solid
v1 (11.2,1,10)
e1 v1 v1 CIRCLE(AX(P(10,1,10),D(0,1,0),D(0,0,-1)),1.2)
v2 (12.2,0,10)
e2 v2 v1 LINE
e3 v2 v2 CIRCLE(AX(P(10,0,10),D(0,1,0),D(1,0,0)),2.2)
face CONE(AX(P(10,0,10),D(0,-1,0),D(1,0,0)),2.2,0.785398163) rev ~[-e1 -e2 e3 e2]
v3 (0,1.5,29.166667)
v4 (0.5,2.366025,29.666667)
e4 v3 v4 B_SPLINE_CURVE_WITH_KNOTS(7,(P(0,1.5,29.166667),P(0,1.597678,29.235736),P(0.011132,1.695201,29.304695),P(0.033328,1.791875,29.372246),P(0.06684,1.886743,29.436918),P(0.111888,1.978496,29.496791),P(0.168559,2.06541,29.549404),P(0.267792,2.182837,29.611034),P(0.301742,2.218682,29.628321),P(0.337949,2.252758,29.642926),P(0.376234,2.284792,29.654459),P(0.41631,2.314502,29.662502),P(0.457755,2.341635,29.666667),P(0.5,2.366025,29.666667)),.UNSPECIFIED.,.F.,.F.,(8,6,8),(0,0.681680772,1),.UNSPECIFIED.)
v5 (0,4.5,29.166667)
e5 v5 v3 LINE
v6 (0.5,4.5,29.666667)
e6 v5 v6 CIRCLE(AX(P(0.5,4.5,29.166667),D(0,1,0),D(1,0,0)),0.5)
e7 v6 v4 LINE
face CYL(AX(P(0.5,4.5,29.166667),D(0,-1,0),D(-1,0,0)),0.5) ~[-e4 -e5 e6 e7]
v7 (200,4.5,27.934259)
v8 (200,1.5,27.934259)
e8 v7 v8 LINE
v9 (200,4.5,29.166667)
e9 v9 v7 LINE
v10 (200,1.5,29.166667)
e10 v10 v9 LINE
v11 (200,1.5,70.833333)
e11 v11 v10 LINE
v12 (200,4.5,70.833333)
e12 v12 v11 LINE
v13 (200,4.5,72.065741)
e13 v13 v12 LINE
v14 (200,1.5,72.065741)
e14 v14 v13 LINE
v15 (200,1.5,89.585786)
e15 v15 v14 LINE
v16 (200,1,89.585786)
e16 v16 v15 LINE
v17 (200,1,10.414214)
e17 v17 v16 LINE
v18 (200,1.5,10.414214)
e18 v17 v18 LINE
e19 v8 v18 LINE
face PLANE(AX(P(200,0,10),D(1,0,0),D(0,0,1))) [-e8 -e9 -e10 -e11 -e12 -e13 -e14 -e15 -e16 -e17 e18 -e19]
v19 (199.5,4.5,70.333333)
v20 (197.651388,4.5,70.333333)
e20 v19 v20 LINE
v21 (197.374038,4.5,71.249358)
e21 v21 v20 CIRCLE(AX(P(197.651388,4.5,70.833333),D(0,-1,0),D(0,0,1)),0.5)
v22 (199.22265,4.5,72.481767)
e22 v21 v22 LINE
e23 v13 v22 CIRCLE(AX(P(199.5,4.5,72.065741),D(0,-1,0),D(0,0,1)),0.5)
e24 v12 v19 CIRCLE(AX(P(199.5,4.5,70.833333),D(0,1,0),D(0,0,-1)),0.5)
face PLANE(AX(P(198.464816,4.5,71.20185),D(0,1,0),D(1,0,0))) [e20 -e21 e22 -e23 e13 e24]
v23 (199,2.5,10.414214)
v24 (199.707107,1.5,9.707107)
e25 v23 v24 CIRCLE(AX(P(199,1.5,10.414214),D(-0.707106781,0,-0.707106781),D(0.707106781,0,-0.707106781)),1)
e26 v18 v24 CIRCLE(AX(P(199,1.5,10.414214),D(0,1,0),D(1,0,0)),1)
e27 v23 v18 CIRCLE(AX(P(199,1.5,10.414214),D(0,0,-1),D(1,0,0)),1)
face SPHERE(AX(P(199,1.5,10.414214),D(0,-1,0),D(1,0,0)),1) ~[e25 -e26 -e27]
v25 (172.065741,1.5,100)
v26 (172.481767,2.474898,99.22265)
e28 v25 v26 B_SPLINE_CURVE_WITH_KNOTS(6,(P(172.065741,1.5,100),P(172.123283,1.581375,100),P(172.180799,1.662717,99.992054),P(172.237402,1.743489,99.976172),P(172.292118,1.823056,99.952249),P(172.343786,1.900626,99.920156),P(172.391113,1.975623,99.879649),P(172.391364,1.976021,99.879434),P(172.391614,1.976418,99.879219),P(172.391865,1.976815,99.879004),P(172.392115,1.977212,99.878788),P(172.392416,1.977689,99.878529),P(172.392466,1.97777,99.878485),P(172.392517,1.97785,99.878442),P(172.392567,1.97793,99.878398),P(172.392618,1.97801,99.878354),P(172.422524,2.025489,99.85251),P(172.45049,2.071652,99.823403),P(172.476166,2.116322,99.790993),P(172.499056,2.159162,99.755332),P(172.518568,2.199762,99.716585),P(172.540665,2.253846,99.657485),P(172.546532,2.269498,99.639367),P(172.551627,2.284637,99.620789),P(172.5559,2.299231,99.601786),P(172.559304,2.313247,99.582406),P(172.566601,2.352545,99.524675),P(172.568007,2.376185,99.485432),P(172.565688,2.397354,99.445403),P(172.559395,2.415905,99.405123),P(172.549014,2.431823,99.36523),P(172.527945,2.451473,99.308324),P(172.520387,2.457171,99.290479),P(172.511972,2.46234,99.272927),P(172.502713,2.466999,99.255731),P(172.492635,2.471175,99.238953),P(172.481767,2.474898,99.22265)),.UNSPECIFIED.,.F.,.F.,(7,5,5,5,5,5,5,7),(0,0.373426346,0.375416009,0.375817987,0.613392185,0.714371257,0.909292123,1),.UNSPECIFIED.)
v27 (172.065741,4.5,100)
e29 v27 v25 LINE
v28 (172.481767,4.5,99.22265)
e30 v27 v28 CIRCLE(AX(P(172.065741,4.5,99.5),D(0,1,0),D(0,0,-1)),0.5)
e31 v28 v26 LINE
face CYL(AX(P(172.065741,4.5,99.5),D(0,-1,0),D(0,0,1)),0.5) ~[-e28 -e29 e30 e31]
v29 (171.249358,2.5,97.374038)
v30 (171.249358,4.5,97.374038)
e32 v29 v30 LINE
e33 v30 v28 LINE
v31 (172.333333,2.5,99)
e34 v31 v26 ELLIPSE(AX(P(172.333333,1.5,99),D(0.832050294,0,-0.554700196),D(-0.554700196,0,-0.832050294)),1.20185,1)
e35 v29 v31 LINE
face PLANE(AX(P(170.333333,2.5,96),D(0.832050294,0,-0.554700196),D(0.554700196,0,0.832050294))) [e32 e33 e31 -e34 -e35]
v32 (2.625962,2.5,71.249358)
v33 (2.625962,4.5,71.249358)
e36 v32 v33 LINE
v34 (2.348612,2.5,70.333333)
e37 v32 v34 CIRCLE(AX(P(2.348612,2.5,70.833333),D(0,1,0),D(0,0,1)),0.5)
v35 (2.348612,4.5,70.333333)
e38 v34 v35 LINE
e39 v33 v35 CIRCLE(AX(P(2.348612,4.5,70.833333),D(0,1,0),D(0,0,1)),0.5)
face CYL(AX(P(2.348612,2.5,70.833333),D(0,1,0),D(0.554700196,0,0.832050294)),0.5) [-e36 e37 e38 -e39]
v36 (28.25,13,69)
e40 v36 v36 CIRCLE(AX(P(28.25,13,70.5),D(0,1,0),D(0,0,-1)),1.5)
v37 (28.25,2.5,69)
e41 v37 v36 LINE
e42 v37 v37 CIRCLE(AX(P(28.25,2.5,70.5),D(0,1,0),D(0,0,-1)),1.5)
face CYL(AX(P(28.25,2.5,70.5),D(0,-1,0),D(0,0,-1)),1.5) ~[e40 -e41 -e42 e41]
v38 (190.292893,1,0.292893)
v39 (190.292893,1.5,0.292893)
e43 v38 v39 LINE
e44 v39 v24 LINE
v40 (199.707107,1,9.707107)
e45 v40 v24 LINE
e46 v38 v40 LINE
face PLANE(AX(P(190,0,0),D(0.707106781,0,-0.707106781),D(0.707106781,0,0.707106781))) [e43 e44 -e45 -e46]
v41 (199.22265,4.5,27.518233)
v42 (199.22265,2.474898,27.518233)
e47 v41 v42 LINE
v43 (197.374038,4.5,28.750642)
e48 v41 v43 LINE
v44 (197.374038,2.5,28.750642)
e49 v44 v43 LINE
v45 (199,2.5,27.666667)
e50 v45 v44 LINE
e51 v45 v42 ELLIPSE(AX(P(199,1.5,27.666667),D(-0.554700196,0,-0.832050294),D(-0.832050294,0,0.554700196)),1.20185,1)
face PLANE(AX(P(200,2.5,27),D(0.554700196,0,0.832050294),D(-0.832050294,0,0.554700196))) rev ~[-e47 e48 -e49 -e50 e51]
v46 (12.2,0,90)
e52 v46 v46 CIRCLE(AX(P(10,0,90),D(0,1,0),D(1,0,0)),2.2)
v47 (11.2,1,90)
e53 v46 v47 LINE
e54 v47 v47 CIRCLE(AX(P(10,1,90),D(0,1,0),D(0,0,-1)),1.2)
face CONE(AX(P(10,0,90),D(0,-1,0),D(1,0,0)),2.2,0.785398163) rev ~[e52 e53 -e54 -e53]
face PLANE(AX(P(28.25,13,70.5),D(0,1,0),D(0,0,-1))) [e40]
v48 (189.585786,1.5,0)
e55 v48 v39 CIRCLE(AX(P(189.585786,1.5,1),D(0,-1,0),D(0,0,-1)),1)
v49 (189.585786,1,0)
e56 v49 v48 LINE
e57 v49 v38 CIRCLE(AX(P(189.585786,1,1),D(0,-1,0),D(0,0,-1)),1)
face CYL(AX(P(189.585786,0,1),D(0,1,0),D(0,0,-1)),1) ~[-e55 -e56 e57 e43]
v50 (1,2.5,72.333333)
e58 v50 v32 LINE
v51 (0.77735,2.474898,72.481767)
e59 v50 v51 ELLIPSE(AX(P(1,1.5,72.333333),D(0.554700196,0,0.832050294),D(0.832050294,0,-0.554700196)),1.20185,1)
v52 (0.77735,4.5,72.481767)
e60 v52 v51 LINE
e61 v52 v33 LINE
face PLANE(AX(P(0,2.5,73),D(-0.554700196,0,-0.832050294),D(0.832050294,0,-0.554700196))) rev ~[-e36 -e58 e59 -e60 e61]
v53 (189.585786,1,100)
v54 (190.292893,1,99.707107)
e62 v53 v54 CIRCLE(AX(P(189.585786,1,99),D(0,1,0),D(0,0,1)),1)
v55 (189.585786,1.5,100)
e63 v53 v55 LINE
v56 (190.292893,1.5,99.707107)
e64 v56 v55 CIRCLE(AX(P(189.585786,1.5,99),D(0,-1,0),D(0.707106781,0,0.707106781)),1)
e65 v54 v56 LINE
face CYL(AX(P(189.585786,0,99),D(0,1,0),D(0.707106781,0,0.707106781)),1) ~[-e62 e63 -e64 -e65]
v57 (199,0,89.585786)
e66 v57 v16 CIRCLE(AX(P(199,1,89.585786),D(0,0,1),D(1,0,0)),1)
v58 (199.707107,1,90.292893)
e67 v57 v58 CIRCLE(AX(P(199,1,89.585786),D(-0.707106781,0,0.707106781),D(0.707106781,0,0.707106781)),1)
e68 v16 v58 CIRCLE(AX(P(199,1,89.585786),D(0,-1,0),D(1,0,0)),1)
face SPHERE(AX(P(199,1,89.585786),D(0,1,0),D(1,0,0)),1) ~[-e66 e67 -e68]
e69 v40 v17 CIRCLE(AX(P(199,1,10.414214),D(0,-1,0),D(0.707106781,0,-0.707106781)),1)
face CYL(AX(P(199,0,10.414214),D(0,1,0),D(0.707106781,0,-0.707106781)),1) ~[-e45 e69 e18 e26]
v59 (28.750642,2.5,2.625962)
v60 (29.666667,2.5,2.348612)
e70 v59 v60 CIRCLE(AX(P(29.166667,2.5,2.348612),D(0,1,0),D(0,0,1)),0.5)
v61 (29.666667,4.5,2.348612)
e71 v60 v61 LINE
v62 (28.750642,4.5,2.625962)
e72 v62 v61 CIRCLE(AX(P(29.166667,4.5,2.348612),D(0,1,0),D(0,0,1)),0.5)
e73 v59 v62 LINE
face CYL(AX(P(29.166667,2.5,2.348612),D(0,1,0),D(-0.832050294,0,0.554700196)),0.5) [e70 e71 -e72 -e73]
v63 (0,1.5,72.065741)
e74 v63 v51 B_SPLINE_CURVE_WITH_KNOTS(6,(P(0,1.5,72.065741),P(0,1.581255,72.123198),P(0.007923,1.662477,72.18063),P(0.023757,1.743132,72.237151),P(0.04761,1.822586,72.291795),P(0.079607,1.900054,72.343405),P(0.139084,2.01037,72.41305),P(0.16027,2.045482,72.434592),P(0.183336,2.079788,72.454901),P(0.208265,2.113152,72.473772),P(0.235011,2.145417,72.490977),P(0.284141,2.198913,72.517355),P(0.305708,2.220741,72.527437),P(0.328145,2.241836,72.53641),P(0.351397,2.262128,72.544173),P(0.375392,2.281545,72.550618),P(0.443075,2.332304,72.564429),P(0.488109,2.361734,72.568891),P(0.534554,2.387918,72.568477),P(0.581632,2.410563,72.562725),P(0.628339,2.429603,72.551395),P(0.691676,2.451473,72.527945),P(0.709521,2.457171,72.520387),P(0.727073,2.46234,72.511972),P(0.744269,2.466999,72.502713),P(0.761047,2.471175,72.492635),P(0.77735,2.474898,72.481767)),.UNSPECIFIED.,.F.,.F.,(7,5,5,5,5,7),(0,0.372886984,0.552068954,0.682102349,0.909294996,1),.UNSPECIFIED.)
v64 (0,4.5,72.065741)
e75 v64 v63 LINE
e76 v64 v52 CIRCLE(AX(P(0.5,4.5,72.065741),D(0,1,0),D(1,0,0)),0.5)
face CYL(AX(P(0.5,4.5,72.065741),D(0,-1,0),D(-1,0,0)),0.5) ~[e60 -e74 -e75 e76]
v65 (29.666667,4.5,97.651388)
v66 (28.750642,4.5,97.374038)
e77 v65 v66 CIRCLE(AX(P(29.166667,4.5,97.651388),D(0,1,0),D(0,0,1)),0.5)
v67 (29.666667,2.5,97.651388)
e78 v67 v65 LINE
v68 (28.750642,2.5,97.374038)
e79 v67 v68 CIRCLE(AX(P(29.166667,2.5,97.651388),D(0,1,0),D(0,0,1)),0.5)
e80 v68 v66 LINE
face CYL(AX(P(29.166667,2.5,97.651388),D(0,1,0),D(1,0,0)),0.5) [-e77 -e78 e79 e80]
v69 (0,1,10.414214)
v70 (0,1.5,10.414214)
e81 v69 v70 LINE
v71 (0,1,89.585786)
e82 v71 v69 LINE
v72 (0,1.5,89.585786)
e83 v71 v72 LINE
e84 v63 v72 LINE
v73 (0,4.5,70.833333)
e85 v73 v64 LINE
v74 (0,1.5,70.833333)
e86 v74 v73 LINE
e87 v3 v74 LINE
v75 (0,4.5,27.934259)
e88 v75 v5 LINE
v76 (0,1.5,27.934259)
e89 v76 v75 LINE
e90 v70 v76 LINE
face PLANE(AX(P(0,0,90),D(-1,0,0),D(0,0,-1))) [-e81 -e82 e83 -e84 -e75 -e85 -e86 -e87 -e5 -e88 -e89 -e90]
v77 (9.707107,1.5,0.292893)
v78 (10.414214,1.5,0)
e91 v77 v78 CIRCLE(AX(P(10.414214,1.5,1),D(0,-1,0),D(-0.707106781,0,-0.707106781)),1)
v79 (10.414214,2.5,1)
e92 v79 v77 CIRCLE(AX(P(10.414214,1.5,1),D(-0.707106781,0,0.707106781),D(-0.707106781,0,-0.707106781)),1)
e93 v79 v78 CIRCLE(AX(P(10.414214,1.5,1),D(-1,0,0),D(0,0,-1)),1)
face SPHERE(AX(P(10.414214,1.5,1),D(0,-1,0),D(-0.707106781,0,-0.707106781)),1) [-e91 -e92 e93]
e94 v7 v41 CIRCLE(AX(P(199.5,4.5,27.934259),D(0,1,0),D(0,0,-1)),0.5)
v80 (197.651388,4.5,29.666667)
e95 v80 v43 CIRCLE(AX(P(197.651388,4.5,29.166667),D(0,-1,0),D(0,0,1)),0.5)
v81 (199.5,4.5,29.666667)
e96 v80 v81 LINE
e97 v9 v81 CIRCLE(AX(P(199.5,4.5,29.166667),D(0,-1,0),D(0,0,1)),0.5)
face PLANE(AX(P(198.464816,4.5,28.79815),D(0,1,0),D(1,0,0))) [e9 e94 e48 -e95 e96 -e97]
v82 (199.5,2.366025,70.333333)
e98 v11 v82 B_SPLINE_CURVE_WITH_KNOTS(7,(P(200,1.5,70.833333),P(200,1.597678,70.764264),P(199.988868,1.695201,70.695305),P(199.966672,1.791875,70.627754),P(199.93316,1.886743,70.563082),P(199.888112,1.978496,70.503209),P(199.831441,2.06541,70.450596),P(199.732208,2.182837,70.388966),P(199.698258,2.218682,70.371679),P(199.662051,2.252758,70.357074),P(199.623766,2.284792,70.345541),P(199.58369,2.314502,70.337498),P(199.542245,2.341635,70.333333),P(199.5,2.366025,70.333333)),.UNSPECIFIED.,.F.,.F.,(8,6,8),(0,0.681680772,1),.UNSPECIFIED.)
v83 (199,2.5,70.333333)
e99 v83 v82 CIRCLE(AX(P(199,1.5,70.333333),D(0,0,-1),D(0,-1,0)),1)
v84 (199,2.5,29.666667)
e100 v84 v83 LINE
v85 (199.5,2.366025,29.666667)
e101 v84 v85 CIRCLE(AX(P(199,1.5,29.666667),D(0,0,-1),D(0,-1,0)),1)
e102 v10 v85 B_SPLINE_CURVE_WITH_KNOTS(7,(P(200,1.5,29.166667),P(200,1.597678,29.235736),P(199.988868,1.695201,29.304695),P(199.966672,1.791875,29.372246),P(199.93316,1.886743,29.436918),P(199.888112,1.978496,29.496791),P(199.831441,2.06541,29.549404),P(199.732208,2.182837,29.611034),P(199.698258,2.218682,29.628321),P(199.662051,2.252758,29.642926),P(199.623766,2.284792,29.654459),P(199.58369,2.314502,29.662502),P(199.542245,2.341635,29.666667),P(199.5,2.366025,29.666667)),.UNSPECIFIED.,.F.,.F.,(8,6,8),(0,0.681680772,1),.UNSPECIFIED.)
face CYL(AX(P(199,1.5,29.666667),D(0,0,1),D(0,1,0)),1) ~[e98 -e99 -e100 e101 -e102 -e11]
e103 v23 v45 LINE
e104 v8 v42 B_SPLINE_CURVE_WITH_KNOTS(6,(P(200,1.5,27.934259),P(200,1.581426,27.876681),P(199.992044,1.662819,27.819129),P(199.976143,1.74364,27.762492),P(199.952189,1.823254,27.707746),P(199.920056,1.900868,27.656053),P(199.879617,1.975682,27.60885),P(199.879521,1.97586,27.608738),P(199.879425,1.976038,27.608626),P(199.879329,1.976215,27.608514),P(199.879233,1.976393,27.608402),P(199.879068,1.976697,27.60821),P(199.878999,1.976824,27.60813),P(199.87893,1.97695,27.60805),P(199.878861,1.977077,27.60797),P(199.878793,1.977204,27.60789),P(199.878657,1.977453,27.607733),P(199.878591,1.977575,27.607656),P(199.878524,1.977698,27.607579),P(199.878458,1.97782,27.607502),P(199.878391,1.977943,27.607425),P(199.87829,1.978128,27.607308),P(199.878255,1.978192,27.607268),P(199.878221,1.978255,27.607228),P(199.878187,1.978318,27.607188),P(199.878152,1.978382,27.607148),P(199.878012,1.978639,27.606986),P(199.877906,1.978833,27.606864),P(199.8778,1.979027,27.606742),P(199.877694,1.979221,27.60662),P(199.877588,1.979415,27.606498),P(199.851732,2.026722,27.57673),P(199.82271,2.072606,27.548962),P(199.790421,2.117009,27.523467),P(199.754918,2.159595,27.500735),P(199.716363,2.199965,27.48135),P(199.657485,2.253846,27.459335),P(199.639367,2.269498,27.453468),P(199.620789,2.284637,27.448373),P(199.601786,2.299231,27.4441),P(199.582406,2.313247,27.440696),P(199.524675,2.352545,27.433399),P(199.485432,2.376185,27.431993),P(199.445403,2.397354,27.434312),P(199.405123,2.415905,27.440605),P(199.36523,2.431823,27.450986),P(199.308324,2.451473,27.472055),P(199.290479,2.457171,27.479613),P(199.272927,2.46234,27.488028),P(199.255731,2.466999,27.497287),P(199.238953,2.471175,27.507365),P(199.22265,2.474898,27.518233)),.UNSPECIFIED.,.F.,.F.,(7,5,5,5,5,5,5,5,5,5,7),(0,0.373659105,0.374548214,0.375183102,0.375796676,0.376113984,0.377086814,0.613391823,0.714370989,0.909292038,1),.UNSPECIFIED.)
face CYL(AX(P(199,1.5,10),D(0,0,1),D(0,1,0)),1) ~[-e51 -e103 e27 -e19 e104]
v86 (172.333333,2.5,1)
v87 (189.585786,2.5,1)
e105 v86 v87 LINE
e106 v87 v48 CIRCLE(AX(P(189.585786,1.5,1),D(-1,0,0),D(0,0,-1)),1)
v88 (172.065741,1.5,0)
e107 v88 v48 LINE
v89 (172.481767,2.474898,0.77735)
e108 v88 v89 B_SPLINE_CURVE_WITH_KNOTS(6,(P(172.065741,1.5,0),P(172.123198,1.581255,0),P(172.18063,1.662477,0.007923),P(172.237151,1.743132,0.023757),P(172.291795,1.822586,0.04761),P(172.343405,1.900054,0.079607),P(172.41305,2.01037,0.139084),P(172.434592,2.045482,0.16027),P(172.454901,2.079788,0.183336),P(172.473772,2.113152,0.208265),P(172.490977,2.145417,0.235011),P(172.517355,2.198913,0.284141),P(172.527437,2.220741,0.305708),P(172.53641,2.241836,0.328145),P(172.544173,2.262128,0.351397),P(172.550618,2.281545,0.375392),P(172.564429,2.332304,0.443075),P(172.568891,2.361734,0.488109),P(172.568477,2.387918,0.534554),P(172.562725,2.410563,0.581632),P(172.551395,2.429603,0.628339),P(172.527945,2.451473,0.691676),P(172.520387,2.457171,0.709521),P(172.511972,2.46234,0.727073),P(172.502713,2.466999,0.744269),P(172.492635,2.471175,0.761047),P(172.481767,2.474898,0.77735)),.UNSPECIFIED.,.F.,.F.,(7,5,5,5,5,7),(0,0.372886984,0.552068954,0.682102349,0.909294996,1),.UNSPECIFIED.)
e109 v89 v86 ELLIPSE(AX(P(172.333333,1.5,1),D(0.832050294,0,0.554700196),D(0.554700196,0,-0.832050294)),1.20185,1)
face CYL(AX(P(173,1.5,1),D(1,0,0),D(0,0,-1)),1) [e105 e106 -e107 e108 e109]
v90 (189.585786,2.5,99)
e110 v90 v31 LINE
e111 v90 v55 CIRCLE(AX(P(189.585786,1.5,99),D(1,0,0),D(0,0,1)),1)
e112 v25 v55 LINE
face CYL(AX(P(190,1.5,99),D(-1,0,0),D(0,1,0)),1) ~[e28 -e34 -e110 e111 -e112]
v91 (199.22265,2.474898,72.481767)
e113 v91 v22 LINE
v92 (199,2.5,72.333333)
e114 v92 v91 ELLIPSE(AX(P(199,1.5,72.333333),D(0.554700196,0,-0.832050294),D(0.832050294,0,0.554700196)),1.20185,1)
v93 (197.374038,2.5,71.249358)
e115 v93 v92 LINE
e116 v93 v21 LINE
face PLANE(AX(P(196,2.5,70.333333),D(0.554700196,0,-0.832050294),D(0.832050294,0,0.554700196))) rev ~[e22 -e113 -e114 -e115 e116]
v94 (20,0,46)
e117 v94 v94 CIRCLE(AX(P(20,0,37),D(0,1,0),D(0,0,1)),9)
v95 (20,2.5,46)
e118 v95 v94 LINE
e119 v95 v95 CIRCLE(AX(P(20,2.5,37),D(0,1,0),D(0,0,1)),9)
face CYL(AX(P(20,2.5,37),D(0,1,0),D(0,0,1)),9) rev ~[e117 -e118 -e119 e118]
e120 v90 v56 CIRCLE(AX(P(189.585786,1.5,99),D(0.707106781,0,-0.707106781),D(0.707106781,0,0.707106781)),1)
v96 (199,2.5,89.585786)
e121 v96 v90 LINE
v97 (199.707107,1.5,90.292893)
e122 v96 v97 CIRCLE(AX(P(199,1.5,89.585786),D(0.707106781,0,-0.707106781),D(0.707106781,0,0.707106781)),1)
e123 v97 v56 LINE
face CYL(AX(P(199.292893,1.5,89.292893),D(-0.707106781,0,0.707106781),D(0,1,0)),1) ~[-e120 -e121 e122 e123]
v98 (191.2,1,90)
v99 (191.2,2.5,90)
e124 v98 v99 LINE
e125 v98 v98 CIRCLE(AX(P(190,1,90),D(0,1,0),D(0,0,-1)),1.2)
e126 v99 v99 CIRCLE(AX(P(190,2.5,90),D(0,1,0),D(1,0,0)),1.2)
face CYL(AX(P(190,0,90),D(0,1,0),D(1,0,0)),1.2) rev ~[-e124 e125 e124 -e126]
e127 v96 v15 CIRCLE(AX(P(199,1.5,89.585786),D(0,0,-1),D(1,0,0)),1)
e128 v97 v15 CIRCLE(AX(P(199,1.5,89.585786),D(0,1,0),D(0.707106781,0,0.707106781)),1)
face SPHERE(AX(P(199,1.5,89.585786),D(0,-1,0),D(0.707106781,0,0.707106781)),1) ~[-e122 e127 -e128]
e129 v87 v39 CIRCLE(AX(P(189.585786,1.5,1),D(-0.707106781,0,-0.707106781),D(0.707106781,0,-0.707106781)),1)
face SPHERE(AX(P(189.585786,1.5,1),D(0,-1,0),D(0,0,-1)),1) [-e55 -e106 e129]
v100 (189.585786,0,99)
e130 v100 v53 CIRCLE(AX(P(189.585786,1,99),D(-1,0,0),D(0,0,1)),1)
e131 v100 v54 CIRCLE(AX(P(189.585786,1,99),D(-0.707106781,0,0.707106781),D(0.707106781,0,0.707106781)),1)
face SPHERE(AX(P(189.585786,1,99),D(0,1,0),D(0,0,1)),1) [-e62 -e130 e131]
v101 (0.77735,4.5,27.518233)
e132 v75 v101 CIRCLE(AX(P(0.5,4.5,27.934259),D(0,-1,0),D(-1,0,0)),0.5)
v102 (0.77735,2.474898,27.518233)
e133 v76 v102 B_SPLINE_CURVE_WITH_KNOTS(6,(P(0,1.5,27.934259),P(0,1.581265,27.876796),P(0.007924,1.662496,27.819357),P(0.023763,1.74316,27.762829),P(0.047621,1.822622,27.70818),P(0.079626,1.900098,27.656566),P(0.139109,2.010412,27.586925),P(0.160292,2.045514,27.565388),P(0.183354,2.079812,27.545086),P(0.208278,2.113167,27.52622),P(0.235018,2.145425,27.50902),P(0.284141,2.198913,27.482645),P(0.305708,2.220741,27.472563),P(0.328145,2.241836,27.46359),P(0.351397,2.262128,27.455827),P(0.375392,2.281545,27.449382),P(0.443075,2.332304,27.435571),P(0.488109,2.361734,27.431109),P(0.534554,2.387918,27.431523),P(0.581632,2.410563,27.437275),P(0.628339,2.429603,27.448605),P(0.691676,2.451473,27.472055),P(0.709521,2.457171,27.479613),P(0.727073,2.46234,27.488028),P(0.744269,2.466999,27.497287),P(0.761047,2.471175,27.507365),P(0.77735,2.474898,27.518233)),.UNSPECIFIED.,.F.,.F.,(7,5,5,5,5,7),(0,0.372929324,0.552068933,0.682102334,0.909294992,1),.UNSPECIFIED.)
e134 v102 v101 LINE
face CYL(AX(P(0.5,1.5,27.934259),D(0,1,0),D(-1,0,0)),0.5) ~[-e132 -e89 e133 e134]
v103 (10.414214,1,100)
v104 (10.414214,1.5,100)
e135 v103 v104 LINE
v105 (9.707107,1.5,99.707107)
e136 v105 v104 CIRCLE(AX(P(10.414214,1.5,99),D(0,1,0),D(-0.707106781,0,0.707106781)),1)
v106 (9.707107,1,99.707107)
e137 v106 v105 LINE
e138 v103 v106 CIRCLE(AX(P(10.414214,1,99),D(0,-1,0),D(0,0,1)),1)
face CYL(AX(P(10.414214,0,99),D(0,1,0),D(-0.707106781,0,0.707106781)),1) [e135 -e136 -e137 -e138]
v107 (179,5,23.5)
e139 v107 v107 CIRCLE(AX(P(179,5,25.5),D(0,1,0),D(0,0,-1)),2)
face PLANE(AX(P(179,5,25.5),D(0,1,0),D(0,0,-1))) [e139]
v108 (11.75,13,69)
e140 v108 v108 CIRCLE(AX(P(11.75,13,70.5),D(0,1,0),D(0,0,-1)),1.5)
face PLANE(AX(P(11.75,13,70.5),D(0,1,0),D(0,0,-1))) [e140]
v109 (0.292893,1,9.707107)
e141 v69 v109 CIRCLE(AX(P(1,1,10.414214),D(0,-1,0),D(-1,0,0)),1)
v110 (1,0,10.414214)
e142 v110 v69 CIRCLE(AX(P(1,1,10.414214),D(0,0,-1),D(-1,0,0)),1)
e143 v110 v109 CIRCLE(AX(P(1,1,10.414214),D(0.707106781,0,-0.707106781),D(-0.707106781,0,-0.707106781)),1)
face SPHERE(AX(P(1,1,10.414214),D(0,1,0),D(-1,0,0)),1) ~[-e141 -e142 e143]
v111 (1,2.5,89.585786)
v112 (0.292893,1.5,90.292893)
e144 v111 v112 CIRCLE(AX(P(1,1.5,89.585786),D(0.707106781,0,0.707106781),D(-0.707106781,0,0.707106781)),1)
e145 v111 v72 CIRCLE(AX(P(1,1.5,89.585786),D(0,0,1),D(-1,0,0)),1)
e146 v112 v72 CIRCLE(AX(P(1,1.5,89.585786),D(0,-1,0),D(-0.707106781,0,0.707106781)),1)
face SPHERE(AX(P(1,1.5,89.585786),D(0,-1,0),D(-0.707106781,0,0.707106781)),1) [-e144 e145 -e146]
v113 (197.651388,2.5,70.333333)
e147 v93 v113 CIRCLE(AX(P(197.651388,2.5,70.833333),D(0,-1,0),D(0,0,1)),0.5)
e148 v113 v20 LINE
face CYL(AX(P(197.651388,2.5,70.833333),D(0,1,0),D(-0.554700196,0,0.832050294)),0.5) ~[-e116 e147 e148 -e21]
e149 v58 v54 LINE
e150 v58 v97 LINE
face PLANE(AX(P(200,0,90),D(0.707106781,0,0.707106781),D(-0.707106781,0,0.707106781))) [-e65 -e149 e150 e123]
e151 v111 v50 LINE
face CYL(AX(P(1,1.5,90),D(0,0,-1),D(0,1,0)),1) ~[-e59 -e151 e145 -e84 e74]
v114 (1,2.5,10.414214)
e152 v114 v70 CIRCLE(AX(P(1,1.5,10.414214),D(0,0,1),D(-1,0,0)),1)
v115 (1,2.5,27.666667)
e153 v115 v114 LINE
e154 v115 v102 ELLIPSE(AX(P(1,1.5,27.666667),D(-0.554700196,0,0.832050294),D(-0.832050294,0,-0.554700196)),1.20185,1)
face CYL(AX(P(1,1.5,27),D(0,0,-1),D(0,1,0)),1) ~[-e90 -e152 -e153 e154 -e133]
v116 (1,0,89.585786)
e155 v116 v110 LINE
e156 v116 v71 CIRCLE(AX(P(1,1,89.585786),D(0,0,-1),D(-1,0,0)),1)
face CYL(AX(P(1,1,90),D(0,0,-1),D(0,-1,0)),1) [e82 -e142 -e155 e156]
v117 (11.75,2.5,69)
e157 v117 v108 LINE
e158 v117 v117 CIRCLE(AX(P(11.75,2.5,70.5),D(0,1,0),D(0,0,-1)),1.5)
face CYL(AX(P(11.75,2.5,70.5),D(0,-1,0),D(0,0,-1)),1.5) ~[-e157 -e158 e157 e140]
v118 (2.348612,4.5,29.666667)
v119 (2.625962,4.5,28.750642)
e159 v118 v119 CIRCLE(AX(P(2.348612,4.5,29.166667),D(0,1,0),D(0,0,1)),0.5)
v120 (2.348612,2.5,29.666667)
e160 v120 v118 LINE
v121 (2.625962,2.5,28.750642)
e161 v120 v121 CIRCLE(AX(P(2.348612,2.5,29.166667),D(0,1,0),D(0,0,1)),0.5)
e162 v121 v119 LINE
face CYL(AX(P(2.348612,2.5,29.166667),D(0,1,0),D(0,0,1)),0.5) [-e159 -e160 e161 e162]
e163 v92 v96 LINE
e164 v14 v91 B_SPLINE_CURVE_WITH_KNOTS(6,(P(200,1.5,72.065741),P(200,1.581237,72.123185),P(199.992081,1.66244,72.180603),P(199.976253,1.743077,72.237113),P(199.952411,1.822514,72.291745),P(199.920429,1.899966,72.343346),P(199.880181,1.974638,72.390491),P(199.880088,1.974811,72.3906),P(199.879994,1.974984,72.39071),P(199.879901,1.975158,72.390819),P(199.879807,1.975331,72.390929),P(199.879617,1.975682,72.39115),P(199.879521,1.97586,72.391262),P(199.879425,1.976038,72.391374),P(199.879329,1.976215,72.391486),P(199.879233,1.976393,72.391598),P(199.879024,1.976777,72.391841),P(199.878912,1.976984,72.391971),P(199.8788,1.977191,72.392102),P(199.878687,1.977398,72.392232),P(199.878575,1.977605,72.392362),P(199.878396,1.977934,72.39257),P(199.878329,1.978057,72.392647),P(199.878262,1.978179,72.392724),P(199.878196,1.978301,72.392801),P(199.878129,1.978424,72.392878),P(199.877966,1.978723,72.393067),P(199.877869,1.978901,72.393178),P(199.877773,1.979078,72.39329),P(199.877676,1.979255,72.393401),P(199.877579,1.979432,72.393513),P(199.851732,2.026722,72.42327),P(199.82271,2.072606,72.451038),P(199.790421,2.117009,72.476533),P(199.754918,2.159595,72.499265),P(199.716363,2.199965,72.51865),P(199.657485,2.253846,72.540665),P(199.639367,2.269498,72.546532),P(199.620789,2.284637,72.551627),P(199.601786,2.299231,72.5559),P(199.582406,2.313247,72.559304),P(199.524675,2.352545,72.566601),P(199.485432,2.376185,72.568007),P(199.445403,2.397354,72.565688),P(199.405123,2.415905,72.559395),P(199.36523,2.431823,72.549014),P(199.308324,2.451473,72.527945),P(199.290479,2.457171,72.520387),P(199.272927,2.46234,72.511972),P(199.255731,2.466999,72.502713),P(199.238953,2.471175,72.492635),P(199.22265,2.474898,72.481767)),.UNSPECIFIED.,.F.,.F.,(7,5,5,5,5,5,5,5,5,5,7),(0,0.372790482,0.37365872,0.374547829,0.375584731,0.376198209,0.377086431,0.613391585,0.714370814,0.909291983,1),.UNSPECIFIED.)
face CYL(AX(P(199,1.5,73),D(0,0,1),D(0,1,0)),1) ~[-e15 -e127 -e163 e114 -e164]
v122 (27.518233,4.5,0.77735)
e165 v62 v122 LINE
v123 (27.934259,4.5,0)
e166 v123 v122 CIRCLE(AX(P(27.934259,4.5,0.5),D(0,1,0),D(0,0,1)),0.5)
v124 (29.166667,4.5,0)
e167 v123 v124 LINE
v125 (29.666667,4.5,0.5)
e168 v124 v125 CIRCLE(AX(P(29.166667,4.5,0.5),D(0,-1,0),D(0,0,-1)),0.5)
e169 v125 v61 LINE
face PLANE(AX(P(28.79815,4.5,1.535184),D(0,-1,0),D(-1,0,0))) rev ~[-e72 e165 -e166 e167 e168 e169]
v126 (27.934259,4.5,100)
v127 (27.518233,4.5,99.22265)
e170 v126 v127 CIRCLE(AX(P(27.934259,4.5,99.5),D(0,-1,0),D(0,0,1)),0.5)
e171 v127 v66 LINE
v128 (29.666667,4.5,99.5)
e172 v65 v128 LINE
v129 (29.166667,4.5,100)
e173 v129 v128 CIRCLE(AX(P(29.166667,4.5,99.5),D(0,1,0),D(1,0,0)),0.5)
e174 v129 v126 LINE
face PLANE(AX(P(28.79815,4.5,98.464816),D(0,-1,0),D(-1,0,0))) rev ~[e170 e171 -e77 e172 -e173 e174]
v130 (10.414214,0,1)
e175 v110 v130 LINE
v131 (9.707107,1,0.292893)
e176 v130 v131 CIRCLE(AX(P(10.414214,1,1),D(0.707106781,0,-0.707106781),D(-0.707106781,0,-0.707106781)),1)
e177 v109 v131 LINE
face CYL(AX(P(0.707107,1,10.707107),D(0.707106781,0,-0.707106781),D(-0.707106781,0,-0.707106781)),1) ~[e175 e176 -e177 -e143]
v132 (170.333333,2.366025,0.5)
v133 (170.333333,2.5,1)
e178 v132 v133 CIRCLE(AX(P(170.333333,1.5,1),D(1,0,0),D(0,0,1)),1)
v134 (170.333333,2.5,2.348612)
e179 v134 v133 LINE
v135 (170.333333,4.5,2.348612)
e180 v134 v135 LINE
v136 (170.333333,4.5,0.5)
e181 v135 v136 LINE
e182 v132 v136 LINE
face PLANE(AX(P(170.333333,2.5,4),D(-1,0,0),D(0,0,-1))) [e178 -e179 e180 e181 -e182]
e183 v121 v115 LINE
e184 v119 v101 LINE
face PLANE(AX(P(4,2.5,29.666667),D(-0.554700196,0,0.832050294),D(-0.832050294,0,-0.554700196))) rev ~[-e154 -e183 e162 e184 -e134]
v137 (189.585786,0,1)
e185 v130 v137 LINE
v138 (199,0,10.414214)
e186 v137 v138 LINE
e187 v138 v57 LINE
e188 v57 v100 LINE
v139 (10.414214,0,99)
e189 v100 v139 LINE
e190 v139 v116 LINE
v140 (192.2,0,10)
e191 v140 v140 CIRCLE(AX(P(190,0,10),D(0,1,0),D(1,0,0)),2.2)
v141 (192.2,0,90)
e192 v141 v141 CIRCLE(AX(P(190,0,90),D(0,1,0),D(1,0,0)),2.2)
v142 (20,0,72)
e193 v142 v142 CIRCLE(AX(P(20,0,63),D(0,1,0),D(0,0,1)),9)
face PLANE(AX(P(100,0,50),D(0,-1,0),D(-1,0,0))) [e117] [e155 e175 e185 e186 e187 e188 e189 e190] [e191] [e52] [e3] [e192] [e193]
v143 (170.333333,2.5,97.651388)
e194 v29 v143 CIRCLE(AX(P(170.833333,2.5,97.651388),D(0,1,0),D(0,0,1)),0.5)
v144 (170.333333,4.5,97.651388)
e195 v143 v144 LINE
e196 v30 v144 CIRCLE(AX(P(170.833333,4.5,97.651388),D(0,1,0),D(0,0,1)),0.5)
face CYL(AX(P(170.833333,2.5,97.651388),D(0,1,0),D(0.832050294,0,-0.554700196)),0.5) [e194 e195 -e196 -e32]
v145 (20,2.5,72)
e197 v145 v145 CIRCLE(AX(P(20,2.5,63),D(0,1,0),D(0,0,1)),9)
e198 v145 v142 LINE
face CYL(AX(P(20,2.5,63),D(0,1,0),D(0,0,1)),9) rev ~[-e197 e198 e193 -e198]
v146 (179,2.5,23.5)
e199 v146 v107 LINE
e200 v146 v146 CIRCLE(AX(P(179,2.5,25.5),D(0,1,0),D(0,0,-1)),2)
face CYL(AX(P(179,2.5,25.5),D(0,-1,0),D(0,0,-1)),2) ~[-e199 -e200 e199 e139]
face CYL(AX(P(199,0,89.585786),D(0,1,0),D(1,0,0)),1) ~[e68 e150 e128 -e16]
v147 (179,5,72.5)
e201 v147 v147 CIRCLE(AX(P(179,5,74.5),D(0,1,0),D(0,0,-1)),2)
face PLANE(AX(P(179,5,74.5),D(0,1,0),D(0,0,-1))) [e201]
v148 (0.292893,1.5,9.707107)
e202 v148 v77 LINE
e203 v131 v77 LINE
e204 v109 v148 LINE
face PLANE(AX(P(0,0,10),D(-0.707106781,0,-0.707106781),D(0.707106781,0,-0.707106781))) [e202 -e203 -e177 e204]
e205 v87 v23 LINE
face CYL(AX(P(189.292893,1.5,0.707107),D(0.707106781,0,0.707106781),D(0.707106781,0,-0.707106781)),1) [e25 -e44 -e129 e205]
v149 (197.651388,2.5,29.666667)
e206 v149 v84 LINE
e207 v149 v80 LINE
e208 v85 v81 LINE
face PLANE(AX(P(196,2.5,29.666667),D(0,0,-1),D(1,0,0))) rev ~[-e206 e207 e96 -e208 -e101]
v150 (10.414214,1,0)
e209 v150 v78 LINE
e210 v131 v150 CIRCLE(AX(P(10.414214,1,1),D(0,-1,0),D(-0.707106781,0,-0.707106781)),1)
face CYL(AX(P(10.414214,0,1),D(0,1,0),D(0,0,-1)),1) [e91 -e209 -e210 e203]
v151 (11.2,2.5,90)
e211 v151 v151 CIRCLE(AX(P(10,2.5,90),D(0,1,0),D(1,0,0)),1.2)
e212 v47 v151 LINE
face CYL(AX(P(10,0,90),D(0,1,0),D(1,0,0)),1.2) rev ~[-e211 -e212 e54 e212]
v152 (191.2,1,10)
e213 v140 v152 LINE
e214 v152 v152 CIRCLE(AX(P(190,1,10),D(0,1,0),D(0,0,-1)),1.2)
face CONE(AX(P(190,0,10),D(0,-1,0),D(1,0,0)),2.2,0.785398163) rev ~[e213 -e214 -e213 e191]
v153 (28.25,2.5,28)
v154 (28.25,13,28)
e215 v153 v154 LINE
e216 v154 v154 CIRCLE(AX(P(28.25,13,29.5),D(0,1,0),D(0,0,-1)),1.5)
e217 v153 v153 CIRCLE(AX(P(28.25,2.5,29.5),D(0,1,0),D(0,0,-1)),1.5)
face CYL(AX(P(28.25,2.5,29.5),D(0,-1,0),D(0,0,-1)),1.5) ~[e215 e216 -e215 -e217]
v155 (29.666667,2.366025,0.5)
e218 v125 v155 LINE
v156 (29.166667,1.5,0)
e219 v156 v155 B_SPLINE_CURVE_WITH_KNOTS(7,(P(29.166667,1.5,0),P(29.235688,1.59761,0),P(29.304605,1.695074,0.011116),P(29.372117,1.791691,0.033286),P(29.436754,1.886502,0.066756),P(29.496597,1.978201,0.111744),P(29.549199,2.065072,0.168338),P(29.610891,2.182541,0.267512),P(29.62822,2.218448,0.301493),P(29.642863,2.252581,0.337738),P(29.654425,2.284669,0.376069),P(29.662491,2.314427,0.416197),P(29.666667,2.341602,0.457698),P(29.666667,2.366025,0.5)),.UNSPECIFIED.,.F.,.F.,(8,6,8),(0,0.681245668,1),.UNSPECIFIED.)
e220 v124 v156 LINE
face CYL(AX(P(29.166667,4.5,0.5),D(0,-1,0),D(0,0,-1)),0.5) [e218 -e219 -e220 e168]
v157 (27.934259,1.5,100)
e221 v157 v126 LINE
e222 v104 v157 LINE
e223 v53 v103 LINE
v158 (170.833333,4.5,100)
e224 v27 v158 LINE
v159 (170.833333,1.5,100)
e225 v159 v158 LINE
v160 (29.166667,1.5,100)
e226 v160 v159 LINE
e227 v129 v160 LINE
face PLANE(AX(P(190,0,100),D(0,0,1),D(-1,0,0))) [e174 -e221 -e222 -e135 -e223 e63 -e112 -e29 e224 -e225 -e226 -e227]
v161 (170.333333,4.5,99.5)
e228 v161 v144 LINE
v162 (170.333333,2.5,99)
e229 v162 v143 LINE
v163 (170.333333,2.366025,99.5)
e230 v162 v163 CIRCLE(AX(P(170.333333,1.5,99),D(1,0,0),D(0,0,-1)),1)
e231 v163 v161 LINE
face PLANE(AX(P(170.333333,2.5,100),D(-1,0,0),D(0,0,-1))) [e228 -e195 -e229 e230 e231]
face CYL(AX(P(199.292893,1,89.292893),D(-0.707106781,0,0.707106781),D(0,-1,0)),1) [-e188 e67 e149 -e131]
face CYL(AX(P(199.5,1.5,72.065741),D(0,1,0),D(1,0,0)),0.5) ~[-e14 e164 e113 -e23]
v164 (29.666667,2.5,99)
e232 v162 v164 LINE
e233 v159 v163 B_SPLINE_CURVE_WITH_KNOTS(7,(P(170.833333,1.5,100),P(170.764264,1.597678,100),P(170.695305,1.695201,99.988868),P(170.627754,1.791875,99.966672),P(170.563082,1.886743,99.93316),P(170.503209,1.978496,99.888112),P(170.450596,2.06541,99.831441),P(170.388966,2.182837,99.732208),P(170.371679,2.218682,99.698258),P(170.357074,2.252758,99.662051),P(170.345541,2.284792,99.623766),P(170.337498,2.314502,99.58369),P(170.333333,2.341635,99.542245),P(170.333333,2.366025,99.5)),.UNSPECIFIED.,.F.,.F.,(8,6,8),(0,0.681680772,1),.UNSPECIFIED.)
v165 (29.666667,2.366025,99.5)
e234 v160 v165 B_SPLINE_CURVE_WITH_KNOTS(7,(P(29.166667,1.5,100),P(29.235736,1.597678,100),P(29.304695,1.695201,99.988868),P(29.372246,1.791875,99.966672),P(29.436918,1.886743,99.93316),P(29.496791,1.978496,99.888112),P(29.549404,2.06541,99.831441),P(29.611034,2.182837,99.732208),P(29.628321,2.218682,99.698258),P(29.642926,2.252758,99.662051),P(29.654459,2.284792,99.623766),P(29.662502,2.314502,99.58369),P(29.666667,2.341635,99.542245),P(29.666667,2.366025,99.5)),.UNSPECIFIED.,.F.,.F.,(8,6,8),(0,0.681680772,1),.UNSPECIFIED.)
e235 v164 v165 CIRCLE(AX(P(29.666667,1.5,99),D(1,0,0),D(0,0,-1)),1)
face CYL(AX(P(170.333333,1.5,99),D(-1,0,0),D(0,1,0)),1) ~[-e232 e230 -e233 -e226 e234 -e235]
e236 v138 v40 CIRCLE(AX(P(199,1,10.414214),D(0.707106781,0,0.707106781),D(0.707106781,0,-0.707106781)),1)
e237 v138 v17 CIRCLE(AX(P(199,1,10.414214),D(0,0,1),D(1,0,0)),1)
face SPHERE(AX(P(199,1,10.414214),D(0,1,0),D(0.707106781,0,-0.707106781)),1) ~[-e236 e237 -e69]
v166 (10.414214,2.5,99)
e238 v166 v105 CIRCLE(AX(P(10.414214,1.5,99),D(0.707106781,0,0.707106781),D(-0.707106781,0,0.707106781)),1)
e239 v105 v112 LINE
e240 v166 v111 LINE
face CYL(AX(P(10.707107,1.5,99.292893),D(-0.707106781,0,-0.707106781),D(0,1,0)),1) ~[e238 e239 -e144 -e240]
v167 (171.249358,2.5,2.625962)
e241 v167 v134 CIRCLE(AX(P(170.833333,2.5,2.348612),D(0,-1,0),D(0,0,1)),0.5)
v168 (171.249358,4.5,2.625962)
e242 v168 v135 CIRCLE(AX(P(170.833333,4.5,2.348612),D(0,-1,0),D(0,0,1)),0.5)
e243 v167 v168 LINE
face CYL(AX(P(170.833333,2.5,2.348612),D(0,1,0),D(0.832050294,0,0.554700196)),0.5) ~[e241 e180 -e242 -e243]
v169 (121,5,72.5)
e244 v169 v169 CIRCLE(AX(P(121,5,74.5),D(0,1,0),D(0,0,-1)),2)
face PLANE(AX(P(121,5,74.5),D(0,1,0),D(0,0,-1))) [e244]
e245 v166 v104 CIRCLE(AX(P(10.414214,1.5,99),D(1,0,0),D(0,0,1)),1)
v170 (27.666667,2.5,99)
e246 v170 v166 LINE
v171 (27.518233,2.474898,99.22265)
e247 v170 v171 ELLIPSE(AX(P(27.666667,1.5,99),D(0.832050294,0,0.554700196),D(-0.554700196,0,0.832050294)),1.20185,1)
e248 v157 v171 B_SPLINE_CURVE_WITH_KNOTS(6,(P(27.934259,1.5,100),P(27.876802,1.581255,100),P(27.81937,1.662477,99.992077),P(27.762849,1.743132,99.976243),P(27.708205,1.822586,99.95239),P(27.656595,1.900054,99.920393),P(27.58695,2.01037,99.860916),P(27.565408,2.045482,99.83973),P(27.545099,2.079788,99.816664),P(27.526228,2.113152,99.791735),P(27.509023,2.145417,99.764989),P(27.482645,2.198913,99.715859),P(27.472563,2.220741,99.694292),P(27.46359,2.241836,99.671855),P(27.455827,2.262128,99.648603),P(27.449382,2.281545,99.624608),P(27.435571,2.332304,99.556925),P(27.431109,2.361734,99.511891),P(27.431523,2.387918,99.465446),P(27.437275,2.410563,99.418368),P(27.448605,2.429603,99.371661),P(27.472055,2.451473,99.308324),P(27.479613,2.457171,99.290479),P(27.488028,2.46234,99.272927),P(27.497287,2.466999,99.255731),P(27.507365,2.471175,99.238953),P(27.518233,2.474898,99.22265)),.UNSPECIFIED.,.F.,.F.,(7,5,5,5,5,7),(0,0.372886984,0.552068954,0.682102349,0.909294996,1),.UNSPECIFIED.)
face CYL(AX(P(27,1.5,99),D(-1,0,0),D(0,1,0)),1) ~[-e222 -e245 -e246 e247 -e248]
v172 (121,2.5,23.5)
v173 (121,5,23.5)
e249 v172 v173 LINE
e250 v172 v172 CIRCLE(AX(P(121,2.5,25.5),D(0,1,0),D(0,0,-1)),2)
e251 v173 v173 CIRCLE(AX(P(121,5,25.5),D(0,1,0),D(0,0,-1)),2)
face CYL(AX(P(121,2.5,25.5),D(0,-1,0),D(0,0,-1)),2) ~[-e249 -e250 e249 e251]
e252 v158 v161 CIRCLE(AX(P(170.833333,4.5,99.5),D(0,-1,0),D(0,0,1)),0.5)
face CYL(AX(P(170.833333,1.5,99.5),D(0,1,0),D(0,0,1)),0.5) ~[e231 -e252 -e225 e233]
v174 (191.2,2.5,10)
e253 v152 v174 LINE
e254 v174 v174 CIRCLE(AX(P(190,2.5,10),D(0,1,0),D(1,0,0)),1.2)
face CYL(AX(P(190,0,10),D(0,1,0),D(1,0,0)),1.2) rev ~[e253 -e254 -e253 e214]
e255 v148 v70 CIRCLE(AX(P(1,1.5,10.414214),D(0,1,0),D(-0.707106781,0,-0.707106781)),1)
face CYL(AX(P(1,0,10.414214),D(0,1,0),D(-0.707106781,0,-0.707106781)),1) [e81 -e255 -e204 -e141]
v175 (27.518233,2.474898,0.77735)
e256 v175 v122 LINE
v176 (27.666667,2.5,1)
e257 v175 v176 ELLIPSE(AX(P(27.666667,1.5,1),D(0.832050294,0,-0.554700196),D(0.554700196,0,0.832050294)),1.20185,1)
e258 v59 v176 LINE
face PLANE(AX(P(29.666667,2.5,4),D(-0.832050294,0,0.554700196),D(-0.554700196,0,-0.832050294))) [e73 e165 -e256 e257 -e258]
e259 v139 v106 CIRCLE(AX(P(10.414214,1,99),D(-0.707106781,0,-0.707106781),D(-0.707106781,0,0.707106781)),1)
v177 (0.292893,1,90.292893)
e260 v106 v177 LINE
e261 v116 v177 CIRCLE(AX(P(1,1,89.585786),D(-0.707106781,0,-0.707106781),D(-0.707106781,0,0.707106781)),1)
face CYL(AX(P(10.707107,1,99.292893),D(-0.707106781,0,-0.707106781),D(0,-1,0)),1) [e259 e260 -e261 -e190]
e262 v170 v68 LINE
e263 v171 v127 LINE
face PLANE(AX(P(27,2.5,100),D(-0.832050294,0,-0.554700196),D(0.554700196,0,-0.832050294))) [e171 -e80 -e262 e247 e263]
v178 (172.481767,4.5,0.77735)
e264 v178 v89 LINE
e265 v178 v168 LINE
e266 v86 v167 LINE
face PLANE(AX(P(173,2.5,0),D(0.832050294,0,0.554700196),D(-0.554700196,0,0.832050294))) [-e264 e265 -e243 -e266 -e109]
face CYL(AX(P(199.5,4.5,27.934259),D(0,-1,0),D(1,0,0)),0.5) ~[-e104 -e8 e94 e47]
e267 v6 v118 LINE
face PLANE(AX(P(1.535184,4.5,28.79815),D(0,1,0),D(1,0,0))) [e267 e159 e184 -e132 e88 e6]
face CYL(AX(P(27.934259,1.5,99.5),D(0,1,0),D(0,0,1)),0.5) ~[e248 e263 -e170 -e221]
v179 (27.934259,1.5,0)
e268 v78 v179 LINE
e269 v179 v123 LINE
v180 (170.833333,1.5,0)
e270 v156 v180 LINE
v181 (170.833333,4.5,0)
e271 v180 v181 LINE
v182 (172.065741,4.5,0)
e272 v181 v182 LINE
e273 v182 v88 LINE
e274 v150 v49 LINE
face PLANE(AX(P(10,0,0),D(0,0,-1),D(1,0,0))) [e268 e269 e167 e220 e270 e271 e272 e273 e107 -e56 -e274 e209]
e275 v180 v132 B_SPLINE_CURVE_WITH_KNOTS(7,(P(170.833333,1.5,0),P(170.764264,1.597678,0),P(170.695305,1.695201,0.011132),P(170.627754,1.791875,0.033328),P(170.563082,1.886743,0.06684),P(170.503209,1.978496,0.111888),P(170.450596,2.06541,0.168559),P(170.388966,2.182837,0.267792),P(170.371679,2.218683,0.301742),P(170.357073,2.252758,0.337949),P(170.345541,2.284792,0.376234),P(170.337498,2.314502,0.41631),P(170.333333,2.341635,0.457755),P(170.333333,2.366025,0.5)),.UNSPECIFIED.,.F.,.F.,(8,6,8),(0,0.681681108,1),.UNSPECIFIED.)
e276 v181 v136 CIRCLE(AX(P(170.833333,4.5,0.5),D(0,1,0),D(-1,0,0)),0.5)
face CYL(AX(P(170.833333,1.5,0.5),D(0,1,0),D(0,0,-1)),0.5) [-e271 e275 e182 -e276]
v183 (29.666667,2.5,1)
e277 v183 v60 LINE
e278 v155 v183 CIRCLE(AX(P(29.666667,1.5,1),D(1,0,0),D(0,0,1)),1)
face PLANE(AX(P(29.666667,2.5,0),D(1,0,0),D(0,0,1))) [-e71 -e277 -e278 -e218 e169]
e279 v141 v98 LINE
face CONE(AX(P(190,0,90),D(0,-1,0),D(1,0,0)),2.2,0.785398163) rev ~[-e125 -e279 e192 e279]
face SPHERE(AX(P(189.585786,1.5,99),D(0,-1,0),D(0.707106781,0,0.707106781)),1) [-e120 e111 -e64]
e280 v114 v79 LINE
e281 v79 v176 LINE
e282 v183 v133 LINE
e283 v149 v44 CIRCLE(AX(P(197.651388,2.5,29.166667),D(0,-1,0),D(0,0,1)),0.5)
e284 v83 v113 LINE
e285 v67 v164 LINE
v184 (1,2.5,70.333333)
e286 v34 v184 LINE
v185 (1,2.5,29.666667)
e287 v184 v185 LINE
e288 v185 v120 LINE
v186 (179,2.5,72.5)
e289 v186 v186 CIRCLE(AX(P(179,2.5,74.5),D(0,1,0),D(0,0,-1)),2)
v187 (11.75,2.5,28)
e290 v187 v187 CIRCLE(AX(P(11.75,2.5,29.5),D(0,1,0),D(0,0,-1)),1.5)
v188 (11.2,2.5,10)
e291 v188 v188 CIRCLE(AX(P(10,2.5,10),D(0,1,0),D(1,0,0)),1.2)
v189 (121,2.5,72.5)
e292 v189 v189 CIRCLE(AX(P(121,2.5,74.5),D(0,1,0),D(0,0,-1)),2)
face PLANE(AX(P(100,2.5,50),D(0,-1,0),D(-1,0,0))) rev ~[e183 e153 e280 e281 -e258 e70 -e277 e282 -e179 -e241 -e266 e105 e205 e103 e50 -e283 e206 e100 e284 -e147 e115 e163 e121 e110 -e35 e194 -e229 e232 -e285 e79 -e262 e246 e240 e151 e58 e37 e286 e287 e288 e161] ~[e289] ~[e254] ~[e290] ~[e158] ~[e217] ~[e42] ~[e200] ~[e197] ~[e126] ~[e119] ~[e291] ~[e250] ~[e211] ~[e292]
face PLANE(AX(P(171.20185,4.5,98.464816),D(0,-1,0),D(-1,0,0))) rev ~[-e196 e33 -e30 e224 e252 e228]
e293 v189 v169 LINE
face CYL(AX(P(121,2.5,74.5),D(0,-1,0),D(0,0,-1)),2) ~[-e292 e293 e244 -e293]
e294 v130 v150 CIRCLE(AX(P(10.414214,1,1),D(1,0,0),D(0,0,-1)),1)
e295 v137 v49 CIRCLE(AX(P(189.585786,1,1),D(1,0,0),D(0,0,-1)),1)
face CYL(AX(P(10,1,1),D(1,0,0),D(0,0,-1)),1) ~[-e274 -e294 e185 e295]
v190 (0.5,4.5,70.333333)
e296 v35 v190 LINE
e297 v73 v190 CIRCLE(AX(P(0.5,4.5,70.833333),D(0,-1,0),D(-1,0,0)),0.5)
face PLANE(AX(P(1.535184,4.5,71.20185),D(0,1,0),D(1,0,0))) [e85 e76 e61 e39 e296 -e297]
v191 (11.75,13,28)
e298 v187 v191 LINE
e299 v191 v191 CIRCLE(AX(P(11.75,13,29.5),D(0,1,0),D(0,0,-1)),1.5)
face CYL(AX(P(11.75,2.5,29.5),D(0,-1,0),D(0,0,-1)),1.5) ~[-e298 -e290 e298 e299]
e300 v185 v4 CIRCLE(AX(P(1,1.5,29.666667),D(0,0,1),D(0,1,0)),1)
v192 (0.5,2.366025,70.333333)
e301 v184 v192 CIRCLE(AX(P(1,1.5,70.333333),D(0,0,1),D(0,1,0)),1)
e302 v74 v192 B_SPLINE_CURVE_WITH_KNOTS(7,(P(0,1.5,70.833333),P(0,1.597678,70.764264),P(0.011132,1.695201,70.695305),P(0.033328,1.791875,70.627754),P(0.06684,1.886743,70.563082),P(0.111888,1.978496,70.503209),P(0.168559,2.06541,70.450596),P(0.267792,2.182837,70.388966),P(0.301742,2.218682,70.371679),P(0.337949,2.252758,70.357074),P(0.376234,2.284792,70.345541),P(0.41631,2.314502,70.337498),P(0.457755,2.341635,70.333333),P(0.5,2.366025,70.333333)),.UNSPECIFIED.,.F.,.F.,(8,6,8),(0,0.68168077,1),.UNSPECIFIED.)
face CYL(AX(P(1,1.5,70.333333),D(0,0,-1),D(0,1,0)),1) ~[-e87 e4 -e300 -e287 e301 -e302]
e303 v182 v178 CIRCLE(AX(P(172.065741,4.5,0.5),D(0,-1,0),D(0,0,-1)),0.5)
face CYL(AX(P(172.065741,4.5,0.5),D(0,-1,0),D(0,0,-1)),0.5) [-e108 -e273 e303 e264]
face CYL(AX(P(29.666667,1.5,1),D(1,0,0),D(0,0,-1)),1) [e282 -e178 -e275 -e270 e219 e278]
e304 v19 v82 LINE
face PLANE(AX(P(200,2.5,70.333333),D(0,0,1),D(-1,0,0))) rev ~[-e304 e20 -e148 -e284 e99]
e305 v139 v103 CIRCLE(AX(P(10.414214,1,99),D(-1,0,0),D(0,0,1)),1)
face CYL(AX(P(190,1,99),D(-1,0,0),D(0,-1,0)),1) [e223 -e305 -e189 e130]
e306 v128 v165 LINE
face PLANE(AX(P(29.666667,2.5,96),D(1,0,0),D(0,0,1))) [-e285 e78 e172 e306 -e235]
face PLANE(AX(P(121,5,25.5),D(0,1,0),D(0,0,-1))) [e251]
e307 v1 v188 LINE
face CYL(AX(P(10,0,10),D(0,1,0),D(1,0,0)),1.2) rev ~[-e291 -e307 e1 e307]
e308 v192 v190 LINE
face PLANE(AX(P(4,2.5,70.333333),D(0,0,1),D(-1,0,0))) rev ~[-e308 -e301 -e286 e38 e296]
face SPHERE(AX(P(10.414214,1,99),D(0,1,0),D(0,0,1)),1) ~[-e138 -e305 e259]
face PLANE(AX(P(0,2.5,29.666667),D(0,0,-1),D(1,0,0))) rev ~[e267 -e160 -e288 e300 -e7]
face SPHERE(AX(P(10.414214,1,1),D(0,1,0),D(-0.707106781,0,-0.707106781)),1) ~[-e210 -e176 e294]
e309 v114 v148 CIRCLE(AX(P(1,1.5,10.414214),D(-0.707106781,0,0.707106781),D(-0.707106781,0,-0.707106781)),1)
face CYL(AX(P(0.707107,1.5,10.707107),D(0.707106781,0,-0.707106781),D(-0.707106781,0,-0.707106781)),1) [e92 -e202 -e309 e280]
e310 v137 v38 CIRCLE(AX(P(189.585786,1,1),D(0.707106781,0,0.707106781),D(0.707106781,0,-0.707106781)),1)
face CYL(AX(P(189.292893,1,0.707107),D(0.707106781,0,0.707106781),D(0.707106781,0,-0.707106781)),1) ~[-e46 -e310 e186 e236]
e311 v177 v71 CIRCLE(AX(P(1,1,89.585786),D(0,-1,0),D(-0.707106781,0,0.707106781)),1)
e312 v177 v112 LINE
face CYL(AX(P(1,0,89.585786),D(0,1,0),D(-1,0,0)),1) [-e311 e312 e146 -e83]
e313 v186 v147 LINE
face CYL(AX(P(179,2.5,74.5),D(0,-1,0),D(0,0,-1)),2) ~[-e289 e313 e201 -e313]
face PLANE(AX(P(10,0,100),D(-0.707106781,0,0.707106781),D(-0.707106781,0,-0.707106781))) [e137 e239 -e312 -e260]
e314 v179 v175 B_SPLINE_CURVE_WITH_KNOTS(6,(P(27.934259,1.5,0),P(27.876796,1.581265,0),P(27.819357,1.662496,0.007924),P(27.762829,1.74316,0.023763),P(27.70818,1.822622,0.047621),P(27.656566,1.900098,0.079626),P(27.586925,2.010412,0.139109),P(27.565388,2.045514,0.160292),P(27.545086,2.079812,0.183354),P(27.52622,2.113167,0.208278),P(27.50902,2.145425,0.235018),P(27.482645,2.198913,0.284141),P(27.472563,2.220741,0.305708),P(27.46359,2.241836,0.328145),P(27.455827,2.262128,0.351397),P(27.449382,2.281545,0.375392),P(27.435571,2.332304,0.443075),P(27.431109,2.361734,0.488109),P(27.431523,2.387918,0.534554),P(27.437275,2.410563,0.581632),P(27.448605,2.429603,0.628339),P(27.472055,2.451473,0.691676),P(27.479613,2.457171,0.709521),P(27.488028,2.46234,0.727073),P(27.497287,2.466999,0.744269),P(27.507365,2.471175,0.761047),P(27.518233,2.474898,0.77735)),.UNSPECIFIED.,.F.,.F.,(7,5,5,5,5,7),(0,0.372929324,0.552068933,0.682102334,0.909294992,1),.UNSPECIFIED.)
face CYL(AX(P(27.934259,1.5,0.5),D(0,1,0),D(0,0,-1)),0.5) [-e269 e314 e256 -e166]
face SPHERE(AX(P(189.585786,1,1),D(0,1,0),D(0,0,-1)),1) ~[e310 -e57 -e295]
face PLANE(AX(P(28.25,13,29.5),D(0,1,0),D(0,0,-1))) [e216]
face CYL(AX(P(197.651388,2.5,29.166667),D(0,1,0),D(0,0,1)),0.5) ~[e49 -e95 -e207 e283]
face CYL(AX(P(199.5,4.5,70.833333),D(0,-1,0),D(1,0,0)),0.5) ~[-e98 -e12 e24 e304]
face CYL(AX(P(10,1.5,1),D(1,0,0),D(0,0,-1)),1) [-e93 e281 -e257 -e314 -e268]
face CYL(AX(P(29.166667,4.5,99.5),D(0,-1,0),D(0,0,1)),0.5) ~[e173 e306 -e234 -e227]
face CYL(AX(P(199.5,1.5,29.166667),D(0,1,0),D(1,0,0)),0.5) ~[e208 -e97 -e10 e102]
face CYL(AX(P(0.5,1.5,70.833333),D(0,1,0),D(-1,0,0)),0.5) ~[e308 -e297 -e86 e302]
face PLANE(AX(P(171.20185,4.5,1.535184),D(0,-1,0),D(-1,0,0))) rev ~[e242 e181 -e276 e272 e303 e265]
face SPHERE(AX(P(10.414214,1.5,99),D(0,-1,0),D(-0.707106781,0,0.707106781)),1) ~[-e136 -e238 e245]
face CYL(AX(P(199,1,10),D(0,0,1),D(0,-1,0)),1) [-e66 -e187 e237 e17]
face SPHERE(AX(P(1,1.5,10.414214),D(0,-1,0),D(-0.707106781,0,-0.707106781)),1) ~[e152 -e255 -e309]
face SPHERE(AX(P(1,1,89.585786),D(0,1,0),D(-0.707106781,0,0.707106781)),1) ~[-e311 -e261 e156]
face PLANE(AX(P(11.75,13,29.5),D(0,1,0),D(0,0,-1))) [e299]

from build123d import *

# Parameters (mm, degrees)
BOSS_EXTRUDE1_DEPTH                             = 2.5
CSK_FOR_M2_FLAT_HEAD_MACHINE_SCREW1_D           = 2.4
CSK_FOR_M2_FLAT_HEAD_MACHINE_SCREW1_CSINK_D     = 4.4
CSK_FOR_M2_FLAT_HEAD_MACHINE_SCREW1_CSINK_ANGLE = 90
SKETCH6_R                                       = 1.5
BOSS_EXTRUDE2_DEPTH                             = 10.5
SKETCH7_R                                       = 9
CUT_EXTRUDE1_DEPTH                              = 10.5
SKETCH8_R                                       = 2
BOSS_EXTRUDE3_DEPTH                             = 2.5
BOSS_EXTRUDE4_DEPTH                             = 2
FILLET1_R                                       = 1
FILLET2_R                                       = 0.5


with BuildPart() as part:
    # Sketch1 → Boss-Extrude1 (new body)
    with BuildSketch(Plane(origin=(0, 0, 0), x_dir=(1, 0, 0), z_dir=(0, 1, 0))):
        Polygon((10, 0), (190, 0), (200, -10), (200, -90), (190, -100), (10, -100), (0, -90), (0, -10), align=None)
    extrude(amount=BOSS_EXTRUDE1_DEPTH)

    # CSK for M2 Flat Head Machine Screw1 (through all)
    with Locations(Plane(origin=(0, 0, 0), x_dir=(-1, 0, 0), z_dir=(0, -1, 0))):
        with Locations((-190, -10), (-190, -90), (-10, -10), (-10, -90)):
            CounterSinkHole(CSK_FOR_M2_FLAT_HEAD_MACHINE_SCREW1_D / 2, CSK_FOR_M2_FLAT_HEAD_MACHINE_SCREW1_CSINK_D / 2, counter_sink_angle=CSK_FOR_M2_FLAT_HEAD_MACHINE_SCREW1_CSINK_ANGLE)

    # Sketch6 → Boss-Extrude2 (add)
    with BuildSketch(Plane(origin=(0, 2.5, 0), x_dir=(1, 0, 0), z_dir=(0, 1, 0))):
        with Locations(Location((11.75, -29.5, 0), (0, 0, 90))):
            Circle(SKETCH6_R)
        with Locations(Location((11.75, -70.5, 0), (0, 0, 90))):
            Circle(SKETCH6_R)
        with Locations(Location((28.25, -70.5, 0), (0, 0, 90))):
            Circle(SKETCH6_R)
        with Locations(Location((28.25, -29.5, 0), (0, 0, 90))):
            Circle(SKETCH6_R)
    extrude(amount=BOSS_EXTRUDE2_DEPTH)

    # Sketch7 → Cut-Extrude1 (cut)
    with BuildSketch(Plane(origin=(0, 2.5, 0), x_dir=(1, 0, 0), z_dir=(0, 1, 0))):
        with Locations(Location((20, -37, 0), (0, 0, 270))):
            Circle(SKETCH7_R)
        with Locations(Location((20, -63, 0), (0, 0, 270))):
            Circle(SKETCH7_R)
    extrude(amount=-CUT_EXTRUDE1_DEPTH, mode=Mode.SUBTRACT)

    # Sketch8 → Boss-Extrude3 (add)
    with BuildSketch(Plane(origin=(0, 2.5, 0), x_dir=(1, 0, 0), z_dir=(0, 1, 0))):
        with Locations(Location((121, -25.5, 0), (0, 0, 90))):
            Circle(SKETCH8_R)
        with Locations(Location((121, -74.5, 0), (0, 0, 90))):
            Circle(SKETCH8_R)
        with Locations(Location((179, -74.5, 0), (0, 0, 90))):
            Circle(SKETCH8_R)
        with Locations(Location((179, -25.5, 0), (0, 0, 90))):
            Circle(SKETCH8_R)
    extrude(amount=BOSS_EXTRUDE3_DEPTH)

    # Sketch9 → Boss-Extrude4 (add)
    with BuildSketch(Plane(origin=(0, 2.5, 0), x_dir=(1, 0, 0), z_dir=(0, 1, 0))):
        Polygon((170.333333333, -96), (173, -100), (170.333333333, -100), align=None)
        Polygon((196, -70.333333333), (200, -73), (200, -70.333333333), align=None)
        Polygon((0, -70.333333333), (0, -73), (4, -70.333333333), align=None)
        Polygon((29.666666667, -100), (27, -100), (29.666666667, -96), align=None)
        Polygon((29.666666667, -4), (27, 0), (29.666666667, 0), align=None)
        Polygon((4, -29.666666667), (0, -27), (0, -29.666666667), align=None)
        Polygon((200, -29.666666667), (200, -27), (196, -29.666666667), align=None)
        Polygon((170.333333333, 0), (173, 0), (170.333333333, -4), align=None)
    extrude(amount=BOSS_EXTRUDE4_DEPTH)

    # Fillet1
    fillet1_edges = [part.edges().sort_by_distance(p)[0] for p in [
        (200, 2.5, 50),
        (100, 0, 0),
        (200, 2.5, 18.5),
        (100, 2.5, 0),
        (18.5, 2.5, 0),
        (0, 2.5, 50),
        (0, 2.5, 81.5),
        (100, 2.5, 100),
        (181.5, 2.5, 100),
        (195, 0, 5),
        (200, 0, 50),
        (195, 0, 95),
        (195, 2.5, 5),
        (190, 1.25, 100),
        (10, 1.25, 100),
        (0, 1.25, 90),
        (0, 1.25, 10),
        (10, 1.25, 0),
        (190, 1.25, 0),
        (200, 1.25, 10),
        (200, 1.25, 90),
        (181.5, 2.5, 0),
        (5, 2.5, 5),
        (0, 2.5, 18.5),
        (5, 2.5, 95),
        (18.5, 2.5, 100),
        (195, 2.5, 95),
        (100, 0, 100),
        (200, 2.5, 81.5),
        (5, 0, 95),
        (0, 0, 50),
        (5, 0, 5),
    ]]
    fillet(fillet1_edges, radius=FILLET1_R)

    # Fillet2
    fillet2_edges = [part.edges().sort_by_distance(p)[0] for p in [
        (29.666666667, 3.5, 96),
        (29.666666667, 3, 100),
        (27, 3, 100),
        (4, 3.5, 70.333333333),
        (0, 3, 73),
        (0, 3, 70.333333333),
        (4, 3.5, 29.666666667),
        (0, 3, 29.666666667),
        (0, 3, 27),
        (29.666666667, 3, 0),
        (27, 3, 0),
        (29.666666667, 3.5, 4),
        (173, 3, 0),
        (170.333333333, 3, 0),
        (170.333333333, 3.5, 4),
        (196, 3.5, 29.666666667),
        (200, 3, 27),
        (200, 3, 29.666666667),
        (196, 3.5, 70.333333333),
        (200, 3, 70.333333333),
        (200, 3, 73),
        (170.333333333, 3.5, 96),
        (170.333333333, 3, 100),
        (173, 3, 100),
    ]]
    fillet(fillet2_edges, radius=FILLET2_R)


solid = part.part
